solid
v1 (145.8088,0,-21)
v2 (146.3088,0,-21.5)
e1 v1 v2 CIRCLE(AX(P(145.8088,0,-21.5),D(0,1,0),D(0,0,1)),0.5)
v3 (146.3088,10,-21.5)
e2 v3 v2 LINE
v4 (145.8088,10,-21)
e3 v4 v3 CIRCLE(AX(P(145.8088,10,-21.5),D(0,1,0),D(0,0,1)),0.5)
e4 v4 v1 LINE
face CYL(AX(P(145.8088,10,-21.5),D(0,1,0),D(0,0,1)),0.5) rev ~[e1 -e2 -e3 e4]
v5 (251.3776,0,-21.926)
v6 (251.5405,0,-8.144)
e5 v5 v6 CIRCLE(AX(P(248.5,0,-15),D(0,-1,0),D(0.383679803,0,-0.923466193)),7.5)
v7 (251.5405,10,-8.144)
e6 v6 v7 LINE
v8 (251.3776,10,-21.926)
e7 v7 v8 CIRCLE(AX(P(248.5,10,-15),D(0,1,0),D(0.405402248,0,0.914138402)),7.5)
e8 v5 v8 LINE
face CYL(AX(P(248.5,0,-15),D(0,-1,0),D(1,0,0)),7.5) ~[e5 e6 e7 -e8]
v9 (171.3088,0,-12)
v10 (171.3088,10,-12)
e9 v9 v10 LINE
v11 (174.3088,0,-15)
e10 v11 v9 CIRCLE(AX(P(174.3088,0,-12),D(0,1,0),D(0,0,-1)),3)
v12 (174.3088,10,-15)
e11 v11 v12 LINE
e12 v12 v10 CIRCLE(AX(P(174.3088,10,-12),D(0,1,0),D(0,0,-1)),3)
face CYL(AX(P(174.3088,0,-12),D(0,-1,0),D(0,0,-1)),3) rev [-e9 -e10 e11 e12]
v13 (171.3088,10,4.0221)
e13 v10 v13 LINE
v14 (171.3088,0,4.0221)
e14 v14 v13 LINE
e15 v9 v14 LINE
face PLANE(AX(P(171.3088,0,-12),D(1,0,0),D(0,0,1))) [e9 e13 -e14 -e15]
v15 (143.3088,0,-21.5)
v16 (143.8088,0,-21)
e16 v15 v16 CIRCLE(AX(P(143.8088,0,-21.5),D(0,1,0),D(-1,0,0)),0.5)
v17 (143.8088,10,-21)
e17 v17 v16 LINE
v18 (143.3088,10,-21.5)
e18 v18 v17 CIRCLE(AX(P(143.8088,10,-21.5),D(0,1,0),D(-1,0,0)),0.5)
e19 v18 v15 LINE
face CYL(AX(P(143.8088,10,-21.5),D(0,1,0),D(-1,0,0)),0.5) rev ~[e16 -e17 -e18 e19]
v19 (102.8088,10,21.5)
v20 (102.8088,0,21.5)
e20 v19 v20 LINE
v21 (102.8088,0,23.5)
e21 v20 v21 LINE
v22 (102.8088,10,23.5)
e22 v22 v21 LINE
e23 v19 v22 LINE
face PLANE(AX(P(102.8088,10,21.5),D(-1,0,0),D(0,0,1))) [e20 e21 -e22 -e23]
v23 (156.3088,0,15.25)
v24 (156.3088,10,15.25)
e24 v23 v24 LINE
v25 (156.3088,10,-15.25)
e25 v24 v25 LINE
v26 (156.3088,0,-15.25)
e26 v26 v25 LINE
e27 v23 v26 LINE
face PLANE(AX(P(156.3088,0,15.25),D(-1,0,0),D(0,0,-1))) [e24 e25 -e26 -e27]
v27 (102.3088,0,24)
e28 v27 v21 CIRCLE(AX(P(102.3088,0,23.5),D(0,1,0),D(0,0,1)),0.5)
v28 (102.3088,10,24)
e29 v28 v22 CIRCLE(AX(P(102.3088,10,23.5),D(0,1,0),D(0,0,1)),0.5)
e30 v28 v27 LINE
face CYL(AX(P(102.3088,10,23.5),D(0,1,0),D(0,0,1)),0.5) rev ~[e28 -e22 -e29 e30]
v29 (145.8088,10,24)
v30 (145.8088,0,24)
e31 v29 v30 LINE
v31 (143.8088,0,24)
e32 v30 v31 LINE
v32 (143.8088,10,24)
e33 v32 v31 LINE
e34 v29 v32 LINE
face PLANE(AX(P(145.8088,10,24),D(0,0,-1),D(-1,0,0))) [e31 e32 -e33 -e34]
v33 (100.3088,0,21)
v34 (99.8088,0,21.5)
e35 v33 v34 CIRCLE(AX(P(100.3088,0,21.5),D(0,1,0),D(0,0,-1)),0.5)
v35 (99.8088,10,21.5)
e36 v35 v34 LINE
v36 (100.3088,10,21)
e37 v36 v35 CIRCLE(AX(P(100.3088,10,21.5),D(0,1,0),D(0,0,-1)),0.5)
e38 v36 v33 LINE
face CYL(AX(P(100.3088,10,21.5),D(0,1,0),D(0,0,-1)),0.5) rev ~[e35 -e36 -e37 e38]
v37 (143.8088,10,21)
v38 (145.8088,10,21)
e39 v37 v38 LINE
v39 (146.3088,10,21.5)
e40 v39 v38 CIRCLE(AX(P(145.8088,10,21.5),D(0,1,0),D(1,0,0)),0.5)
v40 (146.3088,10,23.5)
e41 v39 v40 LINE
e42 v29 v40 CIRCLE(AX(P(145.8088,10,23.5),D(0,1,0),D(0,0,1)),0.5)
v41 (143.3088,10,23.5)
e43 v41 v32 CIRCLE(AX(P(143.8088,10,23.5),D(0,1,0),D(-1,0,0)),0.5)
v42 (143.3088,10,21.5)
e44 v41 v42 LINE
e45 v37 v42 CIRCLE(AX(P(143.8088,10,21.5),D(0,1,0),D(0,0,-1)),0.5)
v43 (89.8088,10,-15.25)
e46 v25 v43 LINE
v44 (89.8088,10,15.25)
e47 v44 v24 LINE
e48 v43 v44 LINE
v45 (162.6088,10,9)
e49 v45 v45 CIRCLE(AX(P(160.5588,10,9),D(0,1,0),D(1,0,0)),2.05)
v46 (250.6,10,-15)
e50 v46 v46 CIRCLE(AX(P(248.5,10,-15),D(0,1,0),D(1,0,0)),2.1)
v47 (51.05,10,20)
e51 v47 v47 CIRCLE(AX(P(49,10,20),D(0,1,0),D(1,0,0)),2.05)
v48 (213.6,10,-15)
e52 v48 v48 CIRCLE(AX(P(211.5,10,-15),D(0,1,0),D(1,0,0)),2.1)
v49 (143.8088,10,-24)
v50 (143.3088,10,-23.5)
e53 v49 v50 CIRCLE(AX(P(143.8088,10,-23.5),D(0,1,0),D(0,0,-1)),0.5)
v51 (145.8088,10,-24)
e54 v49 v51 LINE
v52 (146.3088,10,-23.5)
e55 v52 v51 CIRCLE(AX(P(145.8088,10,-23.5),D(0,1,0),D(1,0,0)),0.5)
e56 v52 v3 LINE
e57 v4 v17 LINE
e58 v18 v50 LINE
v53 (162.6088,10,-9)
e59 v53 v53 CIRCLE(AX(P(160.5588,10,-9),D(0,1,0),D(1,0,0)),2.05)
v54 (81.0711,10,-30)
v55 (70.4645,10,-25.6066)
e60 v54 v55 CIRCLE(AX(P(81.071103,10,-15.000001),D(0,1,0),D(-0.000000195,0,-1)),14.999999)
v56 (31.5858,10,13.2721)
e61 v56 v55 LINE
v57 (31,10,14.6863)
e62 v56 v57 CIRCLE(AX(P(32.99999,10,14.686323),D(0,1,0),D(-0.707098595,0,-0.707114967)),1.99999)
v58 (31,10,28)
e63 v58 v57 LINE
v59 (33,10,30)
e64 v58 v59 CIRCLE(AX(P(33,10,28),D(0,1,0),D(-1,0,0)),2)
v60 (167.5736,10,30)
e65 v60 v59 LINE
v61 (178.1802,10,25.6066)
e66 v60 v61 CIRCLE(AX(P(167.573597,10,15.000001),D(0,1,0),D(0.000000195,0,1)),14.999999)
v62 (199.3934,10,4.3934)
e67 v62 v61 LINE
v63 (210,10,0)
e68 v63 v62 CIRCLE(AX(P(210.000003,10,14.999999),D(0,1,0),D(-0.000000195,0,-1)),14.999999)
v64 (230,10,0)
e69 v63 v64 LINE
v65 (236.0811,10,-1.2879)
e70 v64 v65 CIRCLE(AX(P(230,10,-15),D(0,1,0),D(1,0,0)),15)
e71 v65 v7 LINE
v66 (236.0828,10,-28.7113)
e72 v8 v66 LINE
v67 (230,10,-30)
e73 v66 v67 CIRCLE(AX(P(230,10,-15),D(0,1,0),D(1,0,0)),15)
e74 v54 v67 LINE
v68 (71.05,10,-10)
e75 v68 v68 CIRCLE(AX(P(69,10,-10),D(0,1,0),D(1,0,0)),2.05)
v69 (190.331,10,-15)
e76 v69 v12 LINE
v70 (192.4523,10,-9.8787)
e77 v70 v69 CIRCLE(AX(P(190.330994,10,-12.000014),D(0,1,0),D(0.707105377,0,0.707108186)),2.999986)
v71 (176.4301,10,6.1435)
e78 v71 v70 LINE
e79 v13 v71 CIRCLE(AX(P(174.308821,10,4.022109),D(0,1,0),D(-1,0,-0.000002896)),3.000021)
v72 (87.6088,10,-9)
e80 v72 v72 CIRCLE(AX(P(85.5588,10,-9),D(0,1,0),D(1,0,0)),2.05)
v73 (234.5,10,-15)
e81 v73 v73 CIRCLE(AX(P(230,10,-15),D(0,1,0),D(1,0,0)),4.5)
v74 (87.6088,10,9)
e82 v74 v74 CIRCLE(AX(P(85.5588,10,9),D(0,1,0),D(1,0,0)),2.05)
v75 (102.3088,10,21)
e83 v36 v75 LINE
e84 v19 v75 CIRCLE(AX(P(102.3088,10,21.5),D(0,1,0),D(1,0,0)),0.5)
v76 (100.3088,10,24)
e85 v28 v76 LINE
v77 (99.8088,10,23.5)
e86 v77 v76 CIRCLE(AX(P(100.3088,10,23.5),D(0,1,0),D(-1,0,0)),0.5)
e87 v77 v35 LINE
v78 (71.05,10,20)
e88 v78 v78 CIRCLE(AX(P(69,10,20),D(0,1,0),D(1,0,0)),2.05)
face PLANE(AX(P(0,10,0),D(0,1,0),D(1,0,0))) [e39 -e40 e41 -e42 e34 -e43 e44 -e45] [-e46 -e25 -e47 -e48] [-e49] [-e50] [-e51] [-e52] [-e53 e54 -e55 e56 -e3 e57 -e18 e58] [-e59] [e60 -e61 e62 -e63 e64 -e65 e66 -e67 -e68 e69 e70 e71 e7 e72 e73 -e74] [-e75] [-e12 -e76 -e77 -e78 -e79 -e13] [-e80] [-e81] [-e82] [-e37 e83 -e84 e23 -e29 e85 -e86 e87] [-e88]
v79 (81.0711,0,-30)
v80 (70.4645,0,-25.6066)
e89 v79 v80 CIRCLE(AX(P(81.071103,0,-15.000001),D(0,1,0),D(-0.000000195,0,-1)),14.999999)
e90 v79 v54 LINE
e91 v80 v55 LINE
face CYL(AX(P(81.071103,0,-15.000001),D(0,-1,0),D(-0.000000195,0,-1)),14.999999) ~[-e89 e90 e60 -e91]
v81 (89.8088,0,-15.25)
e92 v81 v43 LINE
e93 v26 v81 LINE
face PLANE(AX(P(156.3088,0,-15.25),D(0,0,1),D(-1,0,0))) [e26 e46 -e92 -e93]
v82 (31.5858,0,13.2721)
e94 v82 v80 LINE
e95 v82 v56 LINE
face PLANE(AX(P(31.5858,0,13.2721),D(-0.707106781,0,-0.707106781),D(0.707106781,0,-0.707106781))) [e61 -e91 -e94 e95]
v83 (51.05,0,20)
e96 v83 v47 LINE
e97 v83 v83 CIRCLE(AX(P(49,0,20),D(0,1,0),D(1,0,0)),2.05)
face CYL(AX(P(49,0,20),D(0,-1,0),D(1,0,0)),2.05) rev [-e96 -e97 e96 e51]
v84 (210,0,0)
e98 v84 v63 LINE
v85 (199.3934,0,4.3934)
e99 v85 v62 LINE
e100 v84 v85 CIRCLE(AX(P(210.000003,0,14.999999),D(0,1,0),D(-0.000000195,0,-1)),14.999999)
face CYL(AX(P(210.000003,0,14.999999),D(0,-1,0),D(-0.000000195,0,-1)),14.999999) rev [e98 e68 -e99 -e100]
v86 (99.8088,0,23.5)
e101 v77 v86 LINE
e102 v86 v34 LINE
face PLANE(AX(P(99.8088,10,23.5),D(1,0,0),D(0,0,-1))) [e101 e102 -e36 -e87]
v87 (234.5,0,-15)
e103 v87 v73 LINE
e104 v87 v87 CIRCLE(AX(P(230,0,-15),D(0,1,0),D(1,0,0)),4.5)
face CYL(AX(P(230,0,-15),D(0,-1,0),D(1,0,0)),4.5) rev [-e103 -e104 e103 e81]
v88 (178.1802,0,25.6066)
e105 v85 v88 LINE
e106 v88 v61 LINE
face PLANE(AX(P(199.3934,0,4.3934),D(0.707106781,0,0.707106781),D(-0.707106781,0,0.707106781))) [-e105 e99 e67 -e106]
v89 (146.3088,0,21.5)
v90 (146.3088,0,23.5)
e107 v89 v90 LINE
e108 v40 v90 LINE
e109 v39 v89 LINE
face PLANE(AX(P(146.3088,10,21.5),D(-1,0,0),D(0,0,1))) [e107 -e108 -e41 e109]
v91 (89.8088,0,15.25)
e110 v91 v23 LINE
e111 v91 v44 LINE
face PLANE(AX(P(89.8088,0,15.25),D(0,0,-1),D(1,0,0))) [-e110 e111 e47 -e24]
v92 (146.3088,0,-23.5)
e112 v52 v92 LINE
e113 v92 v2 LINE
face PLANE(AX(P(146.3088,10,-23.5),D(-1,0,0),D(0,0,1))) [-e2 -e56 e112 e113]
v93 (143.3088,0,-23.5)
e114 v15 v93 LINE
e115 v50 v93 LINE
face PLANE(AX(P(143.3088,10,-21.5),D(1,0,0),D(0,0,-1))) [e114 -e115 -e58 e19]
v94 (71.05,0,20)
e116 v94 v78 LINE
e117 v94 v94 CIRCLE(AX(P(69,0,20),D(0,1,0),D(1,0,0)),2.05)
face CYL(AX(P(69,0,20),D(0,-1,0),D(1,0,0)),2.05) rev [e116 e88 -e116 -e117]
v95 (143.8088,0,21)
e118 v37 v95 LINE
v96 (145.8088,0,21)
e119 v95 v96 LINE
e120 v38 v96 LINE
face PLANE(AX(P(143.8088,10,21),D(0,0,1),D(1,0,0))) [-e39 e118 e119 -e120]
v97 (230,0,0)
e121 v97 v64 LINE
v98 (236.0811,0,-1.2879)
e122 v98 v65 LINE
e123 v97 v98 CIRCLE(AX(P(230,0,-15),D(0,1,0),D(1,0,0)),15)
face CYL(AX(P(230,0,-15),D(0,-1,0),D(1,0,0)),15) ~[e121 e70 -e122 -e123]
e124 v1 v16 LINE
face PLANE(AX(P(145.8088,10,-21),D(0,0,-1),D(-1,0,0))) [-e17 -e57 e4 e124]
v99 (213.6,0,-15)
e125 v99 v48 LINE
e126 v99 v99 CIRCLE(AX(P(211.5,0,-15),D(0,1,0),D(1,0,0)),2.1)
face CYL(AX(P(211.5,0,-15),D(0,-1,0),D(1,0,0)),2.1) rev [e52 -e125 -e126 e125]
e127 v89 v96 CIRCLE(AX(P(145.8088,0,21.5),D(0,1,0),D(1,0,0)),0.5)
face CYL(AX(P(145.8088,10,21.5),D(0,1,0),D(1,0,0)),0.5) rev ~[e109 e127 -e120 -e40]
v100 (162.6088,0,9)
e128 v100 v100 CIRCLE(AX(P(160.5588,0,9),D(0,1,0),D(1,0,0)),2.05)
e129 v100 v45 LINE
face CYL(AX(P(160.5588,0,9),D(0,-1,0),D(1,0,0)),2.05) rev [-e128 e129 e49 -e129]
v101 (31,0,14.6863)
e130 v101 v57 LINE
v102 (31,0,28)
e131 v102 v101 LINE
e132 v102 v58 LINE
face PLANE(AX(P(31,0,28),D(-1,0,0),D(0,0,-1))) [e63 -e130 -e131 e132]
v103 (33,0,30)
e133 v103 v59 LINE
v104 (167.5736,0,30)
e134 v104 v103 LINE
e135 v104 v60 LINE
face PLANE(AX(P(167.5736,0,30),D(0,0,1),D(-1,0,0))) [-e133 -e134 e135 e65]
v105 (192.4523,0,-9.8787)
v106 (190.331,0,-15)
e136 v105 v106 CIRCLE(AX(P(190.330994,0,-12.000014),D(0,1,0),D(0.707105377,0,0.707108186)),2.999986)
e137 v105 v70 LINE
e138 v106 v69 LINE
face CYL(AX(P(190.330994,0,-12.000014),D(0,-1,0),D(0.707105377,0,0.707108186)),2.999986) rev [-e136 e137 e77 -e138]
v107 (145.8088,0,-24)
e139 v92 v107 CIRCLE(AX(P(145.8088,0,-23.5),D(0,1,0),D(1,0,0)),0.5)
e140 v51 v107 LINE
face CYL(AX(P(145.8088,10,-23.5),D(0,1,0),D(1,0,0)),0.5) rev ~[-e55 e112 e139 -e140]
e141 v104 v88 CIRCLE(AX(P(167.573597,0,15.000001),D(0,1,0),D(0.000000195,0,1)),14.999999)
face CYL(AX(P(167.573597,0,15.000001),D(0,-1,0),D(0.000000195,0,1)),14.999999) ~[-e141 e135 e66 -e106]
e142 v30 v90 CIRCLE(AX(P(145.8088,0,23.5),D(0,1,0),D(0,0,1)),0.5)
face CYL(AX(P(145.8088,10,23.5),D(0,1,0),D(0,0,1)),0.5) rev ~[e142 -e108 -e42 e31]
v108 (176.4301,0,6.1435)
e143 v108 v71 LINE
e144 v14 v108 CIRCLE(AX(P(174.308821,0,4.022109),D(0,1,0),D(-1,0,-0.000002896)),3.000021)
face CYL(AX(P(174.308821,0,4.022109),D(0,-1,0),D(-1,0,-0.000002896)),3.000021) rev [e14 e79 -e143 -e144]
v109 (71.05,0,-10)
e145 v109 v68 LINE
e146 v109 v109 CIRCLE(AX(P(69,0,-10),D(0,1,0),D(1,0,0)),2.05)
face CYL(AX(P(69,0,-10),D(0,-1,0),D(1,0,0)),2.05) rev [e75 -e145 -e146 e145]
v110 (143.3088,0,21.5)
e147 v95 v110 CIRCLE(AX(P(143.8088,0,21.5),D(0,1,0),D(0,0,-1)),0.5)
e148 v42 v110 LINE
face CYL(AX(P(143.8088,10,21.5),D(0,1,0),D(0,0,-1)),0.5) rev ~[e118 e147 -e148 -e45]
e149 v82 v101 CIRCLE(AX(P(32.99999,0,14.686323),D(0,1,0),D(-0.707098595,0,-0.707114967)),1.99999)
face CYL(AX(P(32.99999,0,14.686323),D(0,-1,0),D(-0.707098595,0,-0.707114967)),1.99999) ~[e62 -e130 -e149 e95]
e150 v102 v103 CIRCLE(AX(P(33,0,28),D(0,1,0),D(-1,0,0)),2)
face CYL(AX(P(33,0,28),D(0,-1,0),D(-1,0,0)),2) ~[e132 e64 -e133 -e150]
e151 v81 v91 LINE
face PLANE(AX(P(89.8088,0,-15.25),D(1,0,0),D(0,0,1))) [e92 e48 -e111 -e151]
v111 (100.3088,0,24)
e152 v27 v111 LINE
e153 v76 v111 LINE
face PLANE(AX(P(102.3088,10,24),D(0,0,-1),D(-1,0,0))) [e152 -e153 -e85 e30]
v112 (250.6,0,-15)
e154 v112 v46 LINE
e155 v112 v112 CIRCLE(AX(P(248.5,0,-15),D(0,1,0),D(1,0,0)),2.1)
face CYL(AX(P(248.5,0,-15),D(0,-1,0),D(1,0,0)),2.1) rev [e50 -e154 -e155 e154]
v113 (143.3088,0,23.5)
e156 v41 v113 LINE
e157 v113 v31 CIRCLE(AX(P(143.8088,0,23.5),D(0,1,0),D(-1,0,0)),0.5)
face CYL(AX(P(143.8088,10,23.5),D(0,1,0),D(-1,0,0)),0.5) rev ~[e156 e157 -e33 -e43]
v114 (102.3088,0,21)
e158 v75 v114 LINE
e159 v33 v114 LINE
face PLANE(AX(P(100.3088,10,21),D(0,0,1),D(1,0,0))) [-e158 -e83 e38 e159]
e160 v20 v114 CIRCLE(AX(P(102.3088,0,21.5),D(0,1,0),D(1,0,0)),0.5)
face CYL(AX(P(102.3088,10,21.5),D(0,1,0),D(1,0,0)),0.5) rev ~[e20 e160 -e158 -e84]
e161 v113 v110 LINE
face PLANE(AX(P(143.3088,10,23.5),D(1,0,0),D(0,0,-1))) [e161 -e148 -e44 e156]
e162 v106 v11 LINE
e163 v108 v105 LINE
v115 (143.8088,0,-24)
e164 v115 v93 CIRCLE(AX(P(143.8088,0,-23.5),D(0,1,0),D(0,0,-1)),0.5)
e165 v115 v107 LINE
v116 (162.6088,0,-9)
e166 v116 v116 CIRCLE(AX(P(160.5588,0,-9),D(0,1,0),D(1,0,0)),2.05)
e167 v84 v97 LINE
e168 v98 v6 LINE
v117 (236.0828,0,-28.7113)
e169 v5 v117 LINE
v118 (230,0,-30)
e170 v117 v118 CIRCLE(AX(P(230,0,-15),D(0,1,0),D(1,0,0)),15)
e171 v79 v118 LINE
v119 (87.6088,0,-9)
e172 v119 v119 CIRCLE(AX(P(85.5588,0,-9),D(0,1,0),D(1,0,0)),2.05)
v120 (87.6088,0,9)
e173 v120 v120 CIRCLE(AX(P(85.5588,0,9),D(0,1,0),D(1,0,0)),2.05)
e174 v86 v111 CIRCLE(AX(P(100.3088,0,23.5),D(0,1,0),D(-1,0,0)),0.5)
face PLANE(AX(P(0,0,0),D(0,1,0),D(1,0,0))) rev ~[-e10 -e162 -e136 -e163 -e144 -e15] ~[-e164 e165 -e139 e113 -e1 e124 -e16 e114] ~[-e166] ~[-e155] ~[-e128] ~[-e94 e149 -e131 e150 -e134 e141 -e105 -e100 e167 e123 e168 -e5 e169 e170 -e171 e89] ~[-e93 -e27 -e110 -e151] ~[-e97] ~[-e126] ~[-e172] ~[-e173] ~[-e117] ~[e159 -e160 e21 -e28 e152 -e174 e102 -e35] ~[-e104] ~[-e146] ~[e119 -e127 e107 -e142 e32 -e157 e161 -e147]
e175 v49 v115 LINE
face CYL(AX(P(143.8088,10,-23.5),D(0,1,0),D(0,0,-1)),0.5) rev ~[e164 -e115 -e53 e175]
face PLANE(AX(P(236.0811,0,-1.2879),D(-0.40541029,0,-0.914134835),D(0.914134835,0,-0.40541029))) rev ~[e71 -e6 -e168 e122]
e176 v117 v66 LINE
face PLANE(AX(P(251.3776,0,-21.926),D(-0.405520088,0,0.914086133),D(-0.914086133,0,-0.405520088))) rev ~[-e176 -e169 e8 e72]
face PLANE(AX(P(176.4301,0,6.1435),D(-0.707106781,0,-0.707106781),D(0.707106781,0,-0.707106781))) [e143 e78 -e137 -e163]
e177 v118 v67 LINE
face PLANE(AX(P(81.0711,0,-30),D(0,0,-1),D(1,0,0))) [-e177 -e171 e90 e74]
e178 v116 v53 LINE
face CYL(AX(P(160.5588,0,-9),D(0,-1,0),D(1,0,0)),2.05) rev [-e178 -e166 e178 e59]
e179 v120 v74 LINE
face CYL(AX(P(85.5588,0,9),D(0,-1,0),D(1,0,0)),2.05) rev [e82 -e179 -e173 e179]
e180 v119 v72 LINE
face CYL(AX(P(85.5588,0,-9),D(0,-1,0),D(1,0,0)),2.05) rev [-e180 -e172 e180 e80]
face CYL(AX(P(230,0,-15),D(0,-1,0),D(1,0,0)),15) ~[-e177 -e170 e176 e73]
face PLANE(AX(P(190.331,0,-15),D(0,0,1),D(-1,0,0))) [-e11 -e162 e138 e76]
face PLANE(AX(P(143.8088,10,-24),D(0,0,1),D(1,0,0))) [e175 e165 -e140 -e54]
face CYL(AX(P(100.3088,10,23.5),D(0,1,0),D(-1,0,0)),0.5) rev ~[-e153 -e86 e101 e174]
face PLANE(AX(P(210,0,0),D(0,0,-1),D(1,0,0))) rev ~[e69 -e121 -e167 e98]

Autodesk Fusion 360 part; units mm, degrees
sketch "Skizze3" plane through (0, 0, 0) normal (0, 1, 0) x (1, 0, 0)
  line L0 (167.5736, -30) -> (33, -30)
  line L1 (31, -28) -> (31, -14.6863)
  line L2 (31.5858, -13.2721) -> (70.4645, 25.6066)
  line L3 (81.0711, 30) -> (230, 30)
  line L4 (199.3934, -4.3934) -> (178.1802, -25.6066)
  line L5 (210, 0) -> (230, 0)
  circle A0 centre (230, 15) radius 4.5
  circle A1 centre (211.5, 15) radius 2.1
  circle A2 centre (248.5, 15) radius 2.1
  circle A3 centre (248.5, 15) radius 7.5
  circle A4 centre (230, 15) radius 15
  line L6 (236.0811, 1.2879) -> (251.5405, 8.144)
  line L7 (251.3776, 21.926) -> (236.0828, 28.7113)
  arc A5 (167.5736, -30) -> (178.1802, -25.6066) centre (167.5736, -15) ccw
  arc A6 (210, 0) -> (199.3934, -4.3934) centre (210, -15) ccw
  arc A7 (81.0711, 30) -> (70.4645, 25.6066) centre (81.0711, 15) ccw
  arc A8 (31.5858, -13.2721) -> (31, -14.6863) centre (33, -14.6863) ccw
  arc A9 (31, -28) -> (33, -30) centre (33, -28) ccw
  line L8 (89.8088, -15.25) -> (156.3088, -15.25)
  line L9 (89.8088, 15.25) -> (89.8088, -15.25)
  line L10 (156.3088, -15.25) -> (156.3088, 15.25)
  line L11 (156.3088, 15.25) -> (89.8088, 15.25)
  circle A10 centre (160.5588, 9) radius 2.05
  circle A11 centre (85.5588, 9) radius 2.05
  circle A12 centre (85.5588, -9) radius 2.05
  circle A13 centre (160.5588, -9) radius 2.05
  line L12 (171.3088, 12) -> (171.3088, -4.0221)
  line L13 (176.4301, -6.1435) -> (192.4523, 9.8787)
  line L14 (190.331, 15) -> (174.3088, 15)
  arc A14 (174.3088, 15) -> (171.3088, 12) centre (174.3088, 12) ccw
  arc A15 (171.3088, -4.0221) -> (176.4301, -6.1435) centre (174.3088, -4.0221) ccw
  arc A16 (192.4523, 9.8787) -> (190.331, 15) centre (190.331, 12) ccw
  circle A17 centre (49, -20) radius 2.05
  circle A18 centre (69, 10) radius 2.05
  circle A19 centre (69, -20) radius 2.05
  dimension "d66" = 9
  dimension "d68" = 4.2
  dimension "d69" = 18.5
  dimension "d70" = 4.2
  dimension "d71" = 18.5
  dimension "d72" = 15
  dimension "d73" = 15
  dimension "d74" = 30
  dimension "d103" = 15
  dimension "d104" = 15
  dimension "d105" = 15
  dimension "d106" = 2
  dimension "d115" = 230
  dimension "d119" = 31
  dimension "d120" = 135
  dimension "d121" = 2
  dimension "d134" = 15.25
  dimension "d135" = 15.25
  dimension "d136" = 33.25
  dimension "d137" = 33.25
  dimension "d138" = 4.1
  dimension "d139" = 18
  dimension "d140" = 75
  dimension "d143" = 18.2
  dimension "d144" = 15.25
  dimension "d145" = 9
  dimension "d146" = 37.5
  dimension "d147" = 90
  dimension "d148" = 3
  dimension "d149" = 3
  dimension "d150" = 3
  dimension "d169" = 4.1
  dimension "d170" = 10
  dimension "d171" = 30
  dimension "d172" = 10
  dimension "d173" = 18
  dimension "d174" = 20
  dimension "d175" = 60
  dimension "d176" = 135
  dimension "d177" = 15
  dimension "d178" = 15
  dimension "d179" = 20
  dimension "d180" = 15
extrude "Extrusion16" add sketch "Skizze3" along normal blind 10
sketch "Skizze7" plane through (0, 10, 0) normal (0, 1, 0) x (-1, 0, 0)
  circle A0 centre (-248.5, -15) radius 2.1
  circle A1 centre (-85.5588, -9) radius 2.05
  line L0 (-89.8088, -15.25) -> (-156.3088, -15.25)
  line L1 (-156.3088, -15.25) -> (-156.3088, 15.25)
  line L2 (-156.3088, 15.25) -> (-89.8088, 15.25)
  line L3 (-89.8088, 15.25) -> (-89.8088, -15.25)
  circle A2 centre (-160.5588, 9) radius 2.05
  circle A3 centre (-85.5588, 9) radius 2.05
  circle A4 centre (-211.5, -15) radius 2.1
  circle A5 centre (-160.5588, -9) radius 2.05
  circle A6 centre (-230, -15) radius 4.5
  arc A7 (-192.4523, -9.8787) -> (-190.331, -15) centre (-190.331, -12) ccw
  line L4 (-192.4523, -9.8787) -> (-176.4301, 6.1435)
  arc A8 (-171.3088, 4.0221) -> (-176.4301, 6.1435) centre (-174.3088, 4.0221) ccw
  line L5 (-171.3088, 4.0221) -> (-171.3088, -12)
  arc A9 (-174.3088, -15) -> (-171.3088, -12) centre (-174.3088, -12) ccw
  line L6 (-174.3088, -15) -> (-190.331, -15)
  arc A10 (-31.5858, 13.2721) -> (-31, 14.6863) centre (-33, 14.6863) ccw
  line L7 (-31, 14.6863) -> (-31, 28)
  arc A11 (-31, 28) -> (-33, 30) centre (-33, 28) ccw
  line L8 (-33, 30) -> (-167.5736, 30)
  arc A12 (-167.5736, 30) -> (-178.1802, 25.6066) centre (-167.5736, 15) ccw
  line L9 (-178.1802, 25.6066) -> (-199.3934, 4.3934)
  arc A13 (-210, 0) -> (-199.3934, 4.3934) centre (-210, 15) ccw
  line L10 (-210, 0) -> (-230, 0)
  arc A14 (-230, 0) -> (-236.0811, -1.2879) centre (-230, -15) ccw
  line L11 (-236.0811, -1.2879) -> (-251.5405, -8.144)
  arc A15 (-251.5405, -8.144) -> (-251.3776, -21.926) centre (-248.5, -15) ccw
  line L12 (-251.3776, -21.926) -> (-236.0828, -28.7113)
  arc A16 (-236.0828, -28.7113) -> (-230, -30) centre (-230, -15) ccw
  line L13 (-230, -30) -> (-81.0711, -30)
  arc A17 (-81.0711, -30) -> (-70.4645, -25.6066) centre (-81.0711, -15) ccw
  line L14 (-70.4645, -25.6066) -> (-31.5858, 13.2721)
  line L15 (-143.8088, 21) -> (-145.8088, 21)
  line L16 (-146.3088, 21.5) -> (-146.3088, 23.5)
  line L17 (-145.8088, 24) -> (-143.8088, 24)
  line L18 (-143.3088, 23.5) -> (-143.3088, 21.5)
  arc A18 (-146.3088, 21.5) -> (-145.8088, 21) centre (-145.8088, 21.5) ccw
  arc A19 (-143.8088, 21) -> (-143.3088, 21.5) centre (-143.8088, 21.5) ccw
  arc A20 (-143.3088, 23.5) -> (-143.8088, 24) centre (-143.8088, 23.5) ccw
  arc A21 (-145.8088, 24) -> (-146.3088, 23.5) centre (-145.8088, 23.5) ccw
  line L19 (-102.3088, 24) -> (-100.3088, 24)
  arc A22 (-99.8088, 23.5) -> (-100.3088, 24) centre (-100.3088, 23.5) ccw
  arc A23 (-100.3088, 21) -> (-99.8088, 21.5) centre (-100.3088, 21.5) ccw
  line L20 (-100.3088, 21) -> (-102.3088, 21)
  arc A24 (-102.3088, 24) -> (-102.8088, 23.5) centre (-102.3088, 23.5) ccw
  line L21 (-99.8088, 23.5) -> (-99.8088, 21.5)
  arc A25 (-102.8088, 21.5) -> (-102.3088, 21) centre (-102.3088, 21.5) ccw
  line L22 (-102.8088, 21.5) -> (-102.8088, 23.5)
  line L23 (-145.8088, -21) -> (-143.8088, -21)
  arc A26 (-143.3088, -21.5) -> (-143.8088, -21) centre (-143.8088, -21.5) ccw
  arc A27 (-143.8088, -24) -> (-143.3088, -23.5) centre (-143.8088, -23.5) ccw
  line L24 (-143.8088, -24) -> (-145.8088, -24)
  arc A28 (-145.8088, -21) -> (-146.3088, -21.5) centre (-145.8088, -21.5) ccw
  line L25 (-143.3088, -21.5) -> (-143.3088, -23.5)
  arc A29 (-146.3088, -23.5) -> (-145.8088, -24) centre (-145.8088, -23.5) ccw
  line L26 (-146.3088, -23.5) -> (-146.3088, -21.5)
  circle A30 centre (-49, 20) radius 2.05
  circle A31 centre (-69, -10) radius 2.05
  circle A32 centre (-69, 20) radius 2.05
  dimension "d151" = 3
  dimension "d152" = 3
  dimension "d153" = 6
  dimension "d154" = 0.5
  dimension "d155" = 3
  dimension "d156" = 3
  dimension "d157" = 0.5
  dimension "d158" = 6
  dimension "d159" = 10
  dimension "d160" = 10
  dimension "d163" = 3
  dimension "d164" = 3
  dimension "d165" = 0.5
  dimension "d166" = 6
  dimension "d167" = 10
extrude "Extrusion18" cut sketch "Skizze7" against normal blind 10 contours L15 L16 L17 L18 A18 A19 A20 A21 | L19 A22 A23 L20 A24 L21 A25 L22 | L23 A26 A27 L24 A28 L25 A29 L26
equation "d134 = 15 mm + tolerance"
equation "d135 = 15 mm + tolerance"
equation "d136 = 33 mm + tolerance"
equation "d137 = 33 mm + tolerance"
equation "d144 = 15 mm + tolerance"
equation "tolerance = 0.25 mm"
